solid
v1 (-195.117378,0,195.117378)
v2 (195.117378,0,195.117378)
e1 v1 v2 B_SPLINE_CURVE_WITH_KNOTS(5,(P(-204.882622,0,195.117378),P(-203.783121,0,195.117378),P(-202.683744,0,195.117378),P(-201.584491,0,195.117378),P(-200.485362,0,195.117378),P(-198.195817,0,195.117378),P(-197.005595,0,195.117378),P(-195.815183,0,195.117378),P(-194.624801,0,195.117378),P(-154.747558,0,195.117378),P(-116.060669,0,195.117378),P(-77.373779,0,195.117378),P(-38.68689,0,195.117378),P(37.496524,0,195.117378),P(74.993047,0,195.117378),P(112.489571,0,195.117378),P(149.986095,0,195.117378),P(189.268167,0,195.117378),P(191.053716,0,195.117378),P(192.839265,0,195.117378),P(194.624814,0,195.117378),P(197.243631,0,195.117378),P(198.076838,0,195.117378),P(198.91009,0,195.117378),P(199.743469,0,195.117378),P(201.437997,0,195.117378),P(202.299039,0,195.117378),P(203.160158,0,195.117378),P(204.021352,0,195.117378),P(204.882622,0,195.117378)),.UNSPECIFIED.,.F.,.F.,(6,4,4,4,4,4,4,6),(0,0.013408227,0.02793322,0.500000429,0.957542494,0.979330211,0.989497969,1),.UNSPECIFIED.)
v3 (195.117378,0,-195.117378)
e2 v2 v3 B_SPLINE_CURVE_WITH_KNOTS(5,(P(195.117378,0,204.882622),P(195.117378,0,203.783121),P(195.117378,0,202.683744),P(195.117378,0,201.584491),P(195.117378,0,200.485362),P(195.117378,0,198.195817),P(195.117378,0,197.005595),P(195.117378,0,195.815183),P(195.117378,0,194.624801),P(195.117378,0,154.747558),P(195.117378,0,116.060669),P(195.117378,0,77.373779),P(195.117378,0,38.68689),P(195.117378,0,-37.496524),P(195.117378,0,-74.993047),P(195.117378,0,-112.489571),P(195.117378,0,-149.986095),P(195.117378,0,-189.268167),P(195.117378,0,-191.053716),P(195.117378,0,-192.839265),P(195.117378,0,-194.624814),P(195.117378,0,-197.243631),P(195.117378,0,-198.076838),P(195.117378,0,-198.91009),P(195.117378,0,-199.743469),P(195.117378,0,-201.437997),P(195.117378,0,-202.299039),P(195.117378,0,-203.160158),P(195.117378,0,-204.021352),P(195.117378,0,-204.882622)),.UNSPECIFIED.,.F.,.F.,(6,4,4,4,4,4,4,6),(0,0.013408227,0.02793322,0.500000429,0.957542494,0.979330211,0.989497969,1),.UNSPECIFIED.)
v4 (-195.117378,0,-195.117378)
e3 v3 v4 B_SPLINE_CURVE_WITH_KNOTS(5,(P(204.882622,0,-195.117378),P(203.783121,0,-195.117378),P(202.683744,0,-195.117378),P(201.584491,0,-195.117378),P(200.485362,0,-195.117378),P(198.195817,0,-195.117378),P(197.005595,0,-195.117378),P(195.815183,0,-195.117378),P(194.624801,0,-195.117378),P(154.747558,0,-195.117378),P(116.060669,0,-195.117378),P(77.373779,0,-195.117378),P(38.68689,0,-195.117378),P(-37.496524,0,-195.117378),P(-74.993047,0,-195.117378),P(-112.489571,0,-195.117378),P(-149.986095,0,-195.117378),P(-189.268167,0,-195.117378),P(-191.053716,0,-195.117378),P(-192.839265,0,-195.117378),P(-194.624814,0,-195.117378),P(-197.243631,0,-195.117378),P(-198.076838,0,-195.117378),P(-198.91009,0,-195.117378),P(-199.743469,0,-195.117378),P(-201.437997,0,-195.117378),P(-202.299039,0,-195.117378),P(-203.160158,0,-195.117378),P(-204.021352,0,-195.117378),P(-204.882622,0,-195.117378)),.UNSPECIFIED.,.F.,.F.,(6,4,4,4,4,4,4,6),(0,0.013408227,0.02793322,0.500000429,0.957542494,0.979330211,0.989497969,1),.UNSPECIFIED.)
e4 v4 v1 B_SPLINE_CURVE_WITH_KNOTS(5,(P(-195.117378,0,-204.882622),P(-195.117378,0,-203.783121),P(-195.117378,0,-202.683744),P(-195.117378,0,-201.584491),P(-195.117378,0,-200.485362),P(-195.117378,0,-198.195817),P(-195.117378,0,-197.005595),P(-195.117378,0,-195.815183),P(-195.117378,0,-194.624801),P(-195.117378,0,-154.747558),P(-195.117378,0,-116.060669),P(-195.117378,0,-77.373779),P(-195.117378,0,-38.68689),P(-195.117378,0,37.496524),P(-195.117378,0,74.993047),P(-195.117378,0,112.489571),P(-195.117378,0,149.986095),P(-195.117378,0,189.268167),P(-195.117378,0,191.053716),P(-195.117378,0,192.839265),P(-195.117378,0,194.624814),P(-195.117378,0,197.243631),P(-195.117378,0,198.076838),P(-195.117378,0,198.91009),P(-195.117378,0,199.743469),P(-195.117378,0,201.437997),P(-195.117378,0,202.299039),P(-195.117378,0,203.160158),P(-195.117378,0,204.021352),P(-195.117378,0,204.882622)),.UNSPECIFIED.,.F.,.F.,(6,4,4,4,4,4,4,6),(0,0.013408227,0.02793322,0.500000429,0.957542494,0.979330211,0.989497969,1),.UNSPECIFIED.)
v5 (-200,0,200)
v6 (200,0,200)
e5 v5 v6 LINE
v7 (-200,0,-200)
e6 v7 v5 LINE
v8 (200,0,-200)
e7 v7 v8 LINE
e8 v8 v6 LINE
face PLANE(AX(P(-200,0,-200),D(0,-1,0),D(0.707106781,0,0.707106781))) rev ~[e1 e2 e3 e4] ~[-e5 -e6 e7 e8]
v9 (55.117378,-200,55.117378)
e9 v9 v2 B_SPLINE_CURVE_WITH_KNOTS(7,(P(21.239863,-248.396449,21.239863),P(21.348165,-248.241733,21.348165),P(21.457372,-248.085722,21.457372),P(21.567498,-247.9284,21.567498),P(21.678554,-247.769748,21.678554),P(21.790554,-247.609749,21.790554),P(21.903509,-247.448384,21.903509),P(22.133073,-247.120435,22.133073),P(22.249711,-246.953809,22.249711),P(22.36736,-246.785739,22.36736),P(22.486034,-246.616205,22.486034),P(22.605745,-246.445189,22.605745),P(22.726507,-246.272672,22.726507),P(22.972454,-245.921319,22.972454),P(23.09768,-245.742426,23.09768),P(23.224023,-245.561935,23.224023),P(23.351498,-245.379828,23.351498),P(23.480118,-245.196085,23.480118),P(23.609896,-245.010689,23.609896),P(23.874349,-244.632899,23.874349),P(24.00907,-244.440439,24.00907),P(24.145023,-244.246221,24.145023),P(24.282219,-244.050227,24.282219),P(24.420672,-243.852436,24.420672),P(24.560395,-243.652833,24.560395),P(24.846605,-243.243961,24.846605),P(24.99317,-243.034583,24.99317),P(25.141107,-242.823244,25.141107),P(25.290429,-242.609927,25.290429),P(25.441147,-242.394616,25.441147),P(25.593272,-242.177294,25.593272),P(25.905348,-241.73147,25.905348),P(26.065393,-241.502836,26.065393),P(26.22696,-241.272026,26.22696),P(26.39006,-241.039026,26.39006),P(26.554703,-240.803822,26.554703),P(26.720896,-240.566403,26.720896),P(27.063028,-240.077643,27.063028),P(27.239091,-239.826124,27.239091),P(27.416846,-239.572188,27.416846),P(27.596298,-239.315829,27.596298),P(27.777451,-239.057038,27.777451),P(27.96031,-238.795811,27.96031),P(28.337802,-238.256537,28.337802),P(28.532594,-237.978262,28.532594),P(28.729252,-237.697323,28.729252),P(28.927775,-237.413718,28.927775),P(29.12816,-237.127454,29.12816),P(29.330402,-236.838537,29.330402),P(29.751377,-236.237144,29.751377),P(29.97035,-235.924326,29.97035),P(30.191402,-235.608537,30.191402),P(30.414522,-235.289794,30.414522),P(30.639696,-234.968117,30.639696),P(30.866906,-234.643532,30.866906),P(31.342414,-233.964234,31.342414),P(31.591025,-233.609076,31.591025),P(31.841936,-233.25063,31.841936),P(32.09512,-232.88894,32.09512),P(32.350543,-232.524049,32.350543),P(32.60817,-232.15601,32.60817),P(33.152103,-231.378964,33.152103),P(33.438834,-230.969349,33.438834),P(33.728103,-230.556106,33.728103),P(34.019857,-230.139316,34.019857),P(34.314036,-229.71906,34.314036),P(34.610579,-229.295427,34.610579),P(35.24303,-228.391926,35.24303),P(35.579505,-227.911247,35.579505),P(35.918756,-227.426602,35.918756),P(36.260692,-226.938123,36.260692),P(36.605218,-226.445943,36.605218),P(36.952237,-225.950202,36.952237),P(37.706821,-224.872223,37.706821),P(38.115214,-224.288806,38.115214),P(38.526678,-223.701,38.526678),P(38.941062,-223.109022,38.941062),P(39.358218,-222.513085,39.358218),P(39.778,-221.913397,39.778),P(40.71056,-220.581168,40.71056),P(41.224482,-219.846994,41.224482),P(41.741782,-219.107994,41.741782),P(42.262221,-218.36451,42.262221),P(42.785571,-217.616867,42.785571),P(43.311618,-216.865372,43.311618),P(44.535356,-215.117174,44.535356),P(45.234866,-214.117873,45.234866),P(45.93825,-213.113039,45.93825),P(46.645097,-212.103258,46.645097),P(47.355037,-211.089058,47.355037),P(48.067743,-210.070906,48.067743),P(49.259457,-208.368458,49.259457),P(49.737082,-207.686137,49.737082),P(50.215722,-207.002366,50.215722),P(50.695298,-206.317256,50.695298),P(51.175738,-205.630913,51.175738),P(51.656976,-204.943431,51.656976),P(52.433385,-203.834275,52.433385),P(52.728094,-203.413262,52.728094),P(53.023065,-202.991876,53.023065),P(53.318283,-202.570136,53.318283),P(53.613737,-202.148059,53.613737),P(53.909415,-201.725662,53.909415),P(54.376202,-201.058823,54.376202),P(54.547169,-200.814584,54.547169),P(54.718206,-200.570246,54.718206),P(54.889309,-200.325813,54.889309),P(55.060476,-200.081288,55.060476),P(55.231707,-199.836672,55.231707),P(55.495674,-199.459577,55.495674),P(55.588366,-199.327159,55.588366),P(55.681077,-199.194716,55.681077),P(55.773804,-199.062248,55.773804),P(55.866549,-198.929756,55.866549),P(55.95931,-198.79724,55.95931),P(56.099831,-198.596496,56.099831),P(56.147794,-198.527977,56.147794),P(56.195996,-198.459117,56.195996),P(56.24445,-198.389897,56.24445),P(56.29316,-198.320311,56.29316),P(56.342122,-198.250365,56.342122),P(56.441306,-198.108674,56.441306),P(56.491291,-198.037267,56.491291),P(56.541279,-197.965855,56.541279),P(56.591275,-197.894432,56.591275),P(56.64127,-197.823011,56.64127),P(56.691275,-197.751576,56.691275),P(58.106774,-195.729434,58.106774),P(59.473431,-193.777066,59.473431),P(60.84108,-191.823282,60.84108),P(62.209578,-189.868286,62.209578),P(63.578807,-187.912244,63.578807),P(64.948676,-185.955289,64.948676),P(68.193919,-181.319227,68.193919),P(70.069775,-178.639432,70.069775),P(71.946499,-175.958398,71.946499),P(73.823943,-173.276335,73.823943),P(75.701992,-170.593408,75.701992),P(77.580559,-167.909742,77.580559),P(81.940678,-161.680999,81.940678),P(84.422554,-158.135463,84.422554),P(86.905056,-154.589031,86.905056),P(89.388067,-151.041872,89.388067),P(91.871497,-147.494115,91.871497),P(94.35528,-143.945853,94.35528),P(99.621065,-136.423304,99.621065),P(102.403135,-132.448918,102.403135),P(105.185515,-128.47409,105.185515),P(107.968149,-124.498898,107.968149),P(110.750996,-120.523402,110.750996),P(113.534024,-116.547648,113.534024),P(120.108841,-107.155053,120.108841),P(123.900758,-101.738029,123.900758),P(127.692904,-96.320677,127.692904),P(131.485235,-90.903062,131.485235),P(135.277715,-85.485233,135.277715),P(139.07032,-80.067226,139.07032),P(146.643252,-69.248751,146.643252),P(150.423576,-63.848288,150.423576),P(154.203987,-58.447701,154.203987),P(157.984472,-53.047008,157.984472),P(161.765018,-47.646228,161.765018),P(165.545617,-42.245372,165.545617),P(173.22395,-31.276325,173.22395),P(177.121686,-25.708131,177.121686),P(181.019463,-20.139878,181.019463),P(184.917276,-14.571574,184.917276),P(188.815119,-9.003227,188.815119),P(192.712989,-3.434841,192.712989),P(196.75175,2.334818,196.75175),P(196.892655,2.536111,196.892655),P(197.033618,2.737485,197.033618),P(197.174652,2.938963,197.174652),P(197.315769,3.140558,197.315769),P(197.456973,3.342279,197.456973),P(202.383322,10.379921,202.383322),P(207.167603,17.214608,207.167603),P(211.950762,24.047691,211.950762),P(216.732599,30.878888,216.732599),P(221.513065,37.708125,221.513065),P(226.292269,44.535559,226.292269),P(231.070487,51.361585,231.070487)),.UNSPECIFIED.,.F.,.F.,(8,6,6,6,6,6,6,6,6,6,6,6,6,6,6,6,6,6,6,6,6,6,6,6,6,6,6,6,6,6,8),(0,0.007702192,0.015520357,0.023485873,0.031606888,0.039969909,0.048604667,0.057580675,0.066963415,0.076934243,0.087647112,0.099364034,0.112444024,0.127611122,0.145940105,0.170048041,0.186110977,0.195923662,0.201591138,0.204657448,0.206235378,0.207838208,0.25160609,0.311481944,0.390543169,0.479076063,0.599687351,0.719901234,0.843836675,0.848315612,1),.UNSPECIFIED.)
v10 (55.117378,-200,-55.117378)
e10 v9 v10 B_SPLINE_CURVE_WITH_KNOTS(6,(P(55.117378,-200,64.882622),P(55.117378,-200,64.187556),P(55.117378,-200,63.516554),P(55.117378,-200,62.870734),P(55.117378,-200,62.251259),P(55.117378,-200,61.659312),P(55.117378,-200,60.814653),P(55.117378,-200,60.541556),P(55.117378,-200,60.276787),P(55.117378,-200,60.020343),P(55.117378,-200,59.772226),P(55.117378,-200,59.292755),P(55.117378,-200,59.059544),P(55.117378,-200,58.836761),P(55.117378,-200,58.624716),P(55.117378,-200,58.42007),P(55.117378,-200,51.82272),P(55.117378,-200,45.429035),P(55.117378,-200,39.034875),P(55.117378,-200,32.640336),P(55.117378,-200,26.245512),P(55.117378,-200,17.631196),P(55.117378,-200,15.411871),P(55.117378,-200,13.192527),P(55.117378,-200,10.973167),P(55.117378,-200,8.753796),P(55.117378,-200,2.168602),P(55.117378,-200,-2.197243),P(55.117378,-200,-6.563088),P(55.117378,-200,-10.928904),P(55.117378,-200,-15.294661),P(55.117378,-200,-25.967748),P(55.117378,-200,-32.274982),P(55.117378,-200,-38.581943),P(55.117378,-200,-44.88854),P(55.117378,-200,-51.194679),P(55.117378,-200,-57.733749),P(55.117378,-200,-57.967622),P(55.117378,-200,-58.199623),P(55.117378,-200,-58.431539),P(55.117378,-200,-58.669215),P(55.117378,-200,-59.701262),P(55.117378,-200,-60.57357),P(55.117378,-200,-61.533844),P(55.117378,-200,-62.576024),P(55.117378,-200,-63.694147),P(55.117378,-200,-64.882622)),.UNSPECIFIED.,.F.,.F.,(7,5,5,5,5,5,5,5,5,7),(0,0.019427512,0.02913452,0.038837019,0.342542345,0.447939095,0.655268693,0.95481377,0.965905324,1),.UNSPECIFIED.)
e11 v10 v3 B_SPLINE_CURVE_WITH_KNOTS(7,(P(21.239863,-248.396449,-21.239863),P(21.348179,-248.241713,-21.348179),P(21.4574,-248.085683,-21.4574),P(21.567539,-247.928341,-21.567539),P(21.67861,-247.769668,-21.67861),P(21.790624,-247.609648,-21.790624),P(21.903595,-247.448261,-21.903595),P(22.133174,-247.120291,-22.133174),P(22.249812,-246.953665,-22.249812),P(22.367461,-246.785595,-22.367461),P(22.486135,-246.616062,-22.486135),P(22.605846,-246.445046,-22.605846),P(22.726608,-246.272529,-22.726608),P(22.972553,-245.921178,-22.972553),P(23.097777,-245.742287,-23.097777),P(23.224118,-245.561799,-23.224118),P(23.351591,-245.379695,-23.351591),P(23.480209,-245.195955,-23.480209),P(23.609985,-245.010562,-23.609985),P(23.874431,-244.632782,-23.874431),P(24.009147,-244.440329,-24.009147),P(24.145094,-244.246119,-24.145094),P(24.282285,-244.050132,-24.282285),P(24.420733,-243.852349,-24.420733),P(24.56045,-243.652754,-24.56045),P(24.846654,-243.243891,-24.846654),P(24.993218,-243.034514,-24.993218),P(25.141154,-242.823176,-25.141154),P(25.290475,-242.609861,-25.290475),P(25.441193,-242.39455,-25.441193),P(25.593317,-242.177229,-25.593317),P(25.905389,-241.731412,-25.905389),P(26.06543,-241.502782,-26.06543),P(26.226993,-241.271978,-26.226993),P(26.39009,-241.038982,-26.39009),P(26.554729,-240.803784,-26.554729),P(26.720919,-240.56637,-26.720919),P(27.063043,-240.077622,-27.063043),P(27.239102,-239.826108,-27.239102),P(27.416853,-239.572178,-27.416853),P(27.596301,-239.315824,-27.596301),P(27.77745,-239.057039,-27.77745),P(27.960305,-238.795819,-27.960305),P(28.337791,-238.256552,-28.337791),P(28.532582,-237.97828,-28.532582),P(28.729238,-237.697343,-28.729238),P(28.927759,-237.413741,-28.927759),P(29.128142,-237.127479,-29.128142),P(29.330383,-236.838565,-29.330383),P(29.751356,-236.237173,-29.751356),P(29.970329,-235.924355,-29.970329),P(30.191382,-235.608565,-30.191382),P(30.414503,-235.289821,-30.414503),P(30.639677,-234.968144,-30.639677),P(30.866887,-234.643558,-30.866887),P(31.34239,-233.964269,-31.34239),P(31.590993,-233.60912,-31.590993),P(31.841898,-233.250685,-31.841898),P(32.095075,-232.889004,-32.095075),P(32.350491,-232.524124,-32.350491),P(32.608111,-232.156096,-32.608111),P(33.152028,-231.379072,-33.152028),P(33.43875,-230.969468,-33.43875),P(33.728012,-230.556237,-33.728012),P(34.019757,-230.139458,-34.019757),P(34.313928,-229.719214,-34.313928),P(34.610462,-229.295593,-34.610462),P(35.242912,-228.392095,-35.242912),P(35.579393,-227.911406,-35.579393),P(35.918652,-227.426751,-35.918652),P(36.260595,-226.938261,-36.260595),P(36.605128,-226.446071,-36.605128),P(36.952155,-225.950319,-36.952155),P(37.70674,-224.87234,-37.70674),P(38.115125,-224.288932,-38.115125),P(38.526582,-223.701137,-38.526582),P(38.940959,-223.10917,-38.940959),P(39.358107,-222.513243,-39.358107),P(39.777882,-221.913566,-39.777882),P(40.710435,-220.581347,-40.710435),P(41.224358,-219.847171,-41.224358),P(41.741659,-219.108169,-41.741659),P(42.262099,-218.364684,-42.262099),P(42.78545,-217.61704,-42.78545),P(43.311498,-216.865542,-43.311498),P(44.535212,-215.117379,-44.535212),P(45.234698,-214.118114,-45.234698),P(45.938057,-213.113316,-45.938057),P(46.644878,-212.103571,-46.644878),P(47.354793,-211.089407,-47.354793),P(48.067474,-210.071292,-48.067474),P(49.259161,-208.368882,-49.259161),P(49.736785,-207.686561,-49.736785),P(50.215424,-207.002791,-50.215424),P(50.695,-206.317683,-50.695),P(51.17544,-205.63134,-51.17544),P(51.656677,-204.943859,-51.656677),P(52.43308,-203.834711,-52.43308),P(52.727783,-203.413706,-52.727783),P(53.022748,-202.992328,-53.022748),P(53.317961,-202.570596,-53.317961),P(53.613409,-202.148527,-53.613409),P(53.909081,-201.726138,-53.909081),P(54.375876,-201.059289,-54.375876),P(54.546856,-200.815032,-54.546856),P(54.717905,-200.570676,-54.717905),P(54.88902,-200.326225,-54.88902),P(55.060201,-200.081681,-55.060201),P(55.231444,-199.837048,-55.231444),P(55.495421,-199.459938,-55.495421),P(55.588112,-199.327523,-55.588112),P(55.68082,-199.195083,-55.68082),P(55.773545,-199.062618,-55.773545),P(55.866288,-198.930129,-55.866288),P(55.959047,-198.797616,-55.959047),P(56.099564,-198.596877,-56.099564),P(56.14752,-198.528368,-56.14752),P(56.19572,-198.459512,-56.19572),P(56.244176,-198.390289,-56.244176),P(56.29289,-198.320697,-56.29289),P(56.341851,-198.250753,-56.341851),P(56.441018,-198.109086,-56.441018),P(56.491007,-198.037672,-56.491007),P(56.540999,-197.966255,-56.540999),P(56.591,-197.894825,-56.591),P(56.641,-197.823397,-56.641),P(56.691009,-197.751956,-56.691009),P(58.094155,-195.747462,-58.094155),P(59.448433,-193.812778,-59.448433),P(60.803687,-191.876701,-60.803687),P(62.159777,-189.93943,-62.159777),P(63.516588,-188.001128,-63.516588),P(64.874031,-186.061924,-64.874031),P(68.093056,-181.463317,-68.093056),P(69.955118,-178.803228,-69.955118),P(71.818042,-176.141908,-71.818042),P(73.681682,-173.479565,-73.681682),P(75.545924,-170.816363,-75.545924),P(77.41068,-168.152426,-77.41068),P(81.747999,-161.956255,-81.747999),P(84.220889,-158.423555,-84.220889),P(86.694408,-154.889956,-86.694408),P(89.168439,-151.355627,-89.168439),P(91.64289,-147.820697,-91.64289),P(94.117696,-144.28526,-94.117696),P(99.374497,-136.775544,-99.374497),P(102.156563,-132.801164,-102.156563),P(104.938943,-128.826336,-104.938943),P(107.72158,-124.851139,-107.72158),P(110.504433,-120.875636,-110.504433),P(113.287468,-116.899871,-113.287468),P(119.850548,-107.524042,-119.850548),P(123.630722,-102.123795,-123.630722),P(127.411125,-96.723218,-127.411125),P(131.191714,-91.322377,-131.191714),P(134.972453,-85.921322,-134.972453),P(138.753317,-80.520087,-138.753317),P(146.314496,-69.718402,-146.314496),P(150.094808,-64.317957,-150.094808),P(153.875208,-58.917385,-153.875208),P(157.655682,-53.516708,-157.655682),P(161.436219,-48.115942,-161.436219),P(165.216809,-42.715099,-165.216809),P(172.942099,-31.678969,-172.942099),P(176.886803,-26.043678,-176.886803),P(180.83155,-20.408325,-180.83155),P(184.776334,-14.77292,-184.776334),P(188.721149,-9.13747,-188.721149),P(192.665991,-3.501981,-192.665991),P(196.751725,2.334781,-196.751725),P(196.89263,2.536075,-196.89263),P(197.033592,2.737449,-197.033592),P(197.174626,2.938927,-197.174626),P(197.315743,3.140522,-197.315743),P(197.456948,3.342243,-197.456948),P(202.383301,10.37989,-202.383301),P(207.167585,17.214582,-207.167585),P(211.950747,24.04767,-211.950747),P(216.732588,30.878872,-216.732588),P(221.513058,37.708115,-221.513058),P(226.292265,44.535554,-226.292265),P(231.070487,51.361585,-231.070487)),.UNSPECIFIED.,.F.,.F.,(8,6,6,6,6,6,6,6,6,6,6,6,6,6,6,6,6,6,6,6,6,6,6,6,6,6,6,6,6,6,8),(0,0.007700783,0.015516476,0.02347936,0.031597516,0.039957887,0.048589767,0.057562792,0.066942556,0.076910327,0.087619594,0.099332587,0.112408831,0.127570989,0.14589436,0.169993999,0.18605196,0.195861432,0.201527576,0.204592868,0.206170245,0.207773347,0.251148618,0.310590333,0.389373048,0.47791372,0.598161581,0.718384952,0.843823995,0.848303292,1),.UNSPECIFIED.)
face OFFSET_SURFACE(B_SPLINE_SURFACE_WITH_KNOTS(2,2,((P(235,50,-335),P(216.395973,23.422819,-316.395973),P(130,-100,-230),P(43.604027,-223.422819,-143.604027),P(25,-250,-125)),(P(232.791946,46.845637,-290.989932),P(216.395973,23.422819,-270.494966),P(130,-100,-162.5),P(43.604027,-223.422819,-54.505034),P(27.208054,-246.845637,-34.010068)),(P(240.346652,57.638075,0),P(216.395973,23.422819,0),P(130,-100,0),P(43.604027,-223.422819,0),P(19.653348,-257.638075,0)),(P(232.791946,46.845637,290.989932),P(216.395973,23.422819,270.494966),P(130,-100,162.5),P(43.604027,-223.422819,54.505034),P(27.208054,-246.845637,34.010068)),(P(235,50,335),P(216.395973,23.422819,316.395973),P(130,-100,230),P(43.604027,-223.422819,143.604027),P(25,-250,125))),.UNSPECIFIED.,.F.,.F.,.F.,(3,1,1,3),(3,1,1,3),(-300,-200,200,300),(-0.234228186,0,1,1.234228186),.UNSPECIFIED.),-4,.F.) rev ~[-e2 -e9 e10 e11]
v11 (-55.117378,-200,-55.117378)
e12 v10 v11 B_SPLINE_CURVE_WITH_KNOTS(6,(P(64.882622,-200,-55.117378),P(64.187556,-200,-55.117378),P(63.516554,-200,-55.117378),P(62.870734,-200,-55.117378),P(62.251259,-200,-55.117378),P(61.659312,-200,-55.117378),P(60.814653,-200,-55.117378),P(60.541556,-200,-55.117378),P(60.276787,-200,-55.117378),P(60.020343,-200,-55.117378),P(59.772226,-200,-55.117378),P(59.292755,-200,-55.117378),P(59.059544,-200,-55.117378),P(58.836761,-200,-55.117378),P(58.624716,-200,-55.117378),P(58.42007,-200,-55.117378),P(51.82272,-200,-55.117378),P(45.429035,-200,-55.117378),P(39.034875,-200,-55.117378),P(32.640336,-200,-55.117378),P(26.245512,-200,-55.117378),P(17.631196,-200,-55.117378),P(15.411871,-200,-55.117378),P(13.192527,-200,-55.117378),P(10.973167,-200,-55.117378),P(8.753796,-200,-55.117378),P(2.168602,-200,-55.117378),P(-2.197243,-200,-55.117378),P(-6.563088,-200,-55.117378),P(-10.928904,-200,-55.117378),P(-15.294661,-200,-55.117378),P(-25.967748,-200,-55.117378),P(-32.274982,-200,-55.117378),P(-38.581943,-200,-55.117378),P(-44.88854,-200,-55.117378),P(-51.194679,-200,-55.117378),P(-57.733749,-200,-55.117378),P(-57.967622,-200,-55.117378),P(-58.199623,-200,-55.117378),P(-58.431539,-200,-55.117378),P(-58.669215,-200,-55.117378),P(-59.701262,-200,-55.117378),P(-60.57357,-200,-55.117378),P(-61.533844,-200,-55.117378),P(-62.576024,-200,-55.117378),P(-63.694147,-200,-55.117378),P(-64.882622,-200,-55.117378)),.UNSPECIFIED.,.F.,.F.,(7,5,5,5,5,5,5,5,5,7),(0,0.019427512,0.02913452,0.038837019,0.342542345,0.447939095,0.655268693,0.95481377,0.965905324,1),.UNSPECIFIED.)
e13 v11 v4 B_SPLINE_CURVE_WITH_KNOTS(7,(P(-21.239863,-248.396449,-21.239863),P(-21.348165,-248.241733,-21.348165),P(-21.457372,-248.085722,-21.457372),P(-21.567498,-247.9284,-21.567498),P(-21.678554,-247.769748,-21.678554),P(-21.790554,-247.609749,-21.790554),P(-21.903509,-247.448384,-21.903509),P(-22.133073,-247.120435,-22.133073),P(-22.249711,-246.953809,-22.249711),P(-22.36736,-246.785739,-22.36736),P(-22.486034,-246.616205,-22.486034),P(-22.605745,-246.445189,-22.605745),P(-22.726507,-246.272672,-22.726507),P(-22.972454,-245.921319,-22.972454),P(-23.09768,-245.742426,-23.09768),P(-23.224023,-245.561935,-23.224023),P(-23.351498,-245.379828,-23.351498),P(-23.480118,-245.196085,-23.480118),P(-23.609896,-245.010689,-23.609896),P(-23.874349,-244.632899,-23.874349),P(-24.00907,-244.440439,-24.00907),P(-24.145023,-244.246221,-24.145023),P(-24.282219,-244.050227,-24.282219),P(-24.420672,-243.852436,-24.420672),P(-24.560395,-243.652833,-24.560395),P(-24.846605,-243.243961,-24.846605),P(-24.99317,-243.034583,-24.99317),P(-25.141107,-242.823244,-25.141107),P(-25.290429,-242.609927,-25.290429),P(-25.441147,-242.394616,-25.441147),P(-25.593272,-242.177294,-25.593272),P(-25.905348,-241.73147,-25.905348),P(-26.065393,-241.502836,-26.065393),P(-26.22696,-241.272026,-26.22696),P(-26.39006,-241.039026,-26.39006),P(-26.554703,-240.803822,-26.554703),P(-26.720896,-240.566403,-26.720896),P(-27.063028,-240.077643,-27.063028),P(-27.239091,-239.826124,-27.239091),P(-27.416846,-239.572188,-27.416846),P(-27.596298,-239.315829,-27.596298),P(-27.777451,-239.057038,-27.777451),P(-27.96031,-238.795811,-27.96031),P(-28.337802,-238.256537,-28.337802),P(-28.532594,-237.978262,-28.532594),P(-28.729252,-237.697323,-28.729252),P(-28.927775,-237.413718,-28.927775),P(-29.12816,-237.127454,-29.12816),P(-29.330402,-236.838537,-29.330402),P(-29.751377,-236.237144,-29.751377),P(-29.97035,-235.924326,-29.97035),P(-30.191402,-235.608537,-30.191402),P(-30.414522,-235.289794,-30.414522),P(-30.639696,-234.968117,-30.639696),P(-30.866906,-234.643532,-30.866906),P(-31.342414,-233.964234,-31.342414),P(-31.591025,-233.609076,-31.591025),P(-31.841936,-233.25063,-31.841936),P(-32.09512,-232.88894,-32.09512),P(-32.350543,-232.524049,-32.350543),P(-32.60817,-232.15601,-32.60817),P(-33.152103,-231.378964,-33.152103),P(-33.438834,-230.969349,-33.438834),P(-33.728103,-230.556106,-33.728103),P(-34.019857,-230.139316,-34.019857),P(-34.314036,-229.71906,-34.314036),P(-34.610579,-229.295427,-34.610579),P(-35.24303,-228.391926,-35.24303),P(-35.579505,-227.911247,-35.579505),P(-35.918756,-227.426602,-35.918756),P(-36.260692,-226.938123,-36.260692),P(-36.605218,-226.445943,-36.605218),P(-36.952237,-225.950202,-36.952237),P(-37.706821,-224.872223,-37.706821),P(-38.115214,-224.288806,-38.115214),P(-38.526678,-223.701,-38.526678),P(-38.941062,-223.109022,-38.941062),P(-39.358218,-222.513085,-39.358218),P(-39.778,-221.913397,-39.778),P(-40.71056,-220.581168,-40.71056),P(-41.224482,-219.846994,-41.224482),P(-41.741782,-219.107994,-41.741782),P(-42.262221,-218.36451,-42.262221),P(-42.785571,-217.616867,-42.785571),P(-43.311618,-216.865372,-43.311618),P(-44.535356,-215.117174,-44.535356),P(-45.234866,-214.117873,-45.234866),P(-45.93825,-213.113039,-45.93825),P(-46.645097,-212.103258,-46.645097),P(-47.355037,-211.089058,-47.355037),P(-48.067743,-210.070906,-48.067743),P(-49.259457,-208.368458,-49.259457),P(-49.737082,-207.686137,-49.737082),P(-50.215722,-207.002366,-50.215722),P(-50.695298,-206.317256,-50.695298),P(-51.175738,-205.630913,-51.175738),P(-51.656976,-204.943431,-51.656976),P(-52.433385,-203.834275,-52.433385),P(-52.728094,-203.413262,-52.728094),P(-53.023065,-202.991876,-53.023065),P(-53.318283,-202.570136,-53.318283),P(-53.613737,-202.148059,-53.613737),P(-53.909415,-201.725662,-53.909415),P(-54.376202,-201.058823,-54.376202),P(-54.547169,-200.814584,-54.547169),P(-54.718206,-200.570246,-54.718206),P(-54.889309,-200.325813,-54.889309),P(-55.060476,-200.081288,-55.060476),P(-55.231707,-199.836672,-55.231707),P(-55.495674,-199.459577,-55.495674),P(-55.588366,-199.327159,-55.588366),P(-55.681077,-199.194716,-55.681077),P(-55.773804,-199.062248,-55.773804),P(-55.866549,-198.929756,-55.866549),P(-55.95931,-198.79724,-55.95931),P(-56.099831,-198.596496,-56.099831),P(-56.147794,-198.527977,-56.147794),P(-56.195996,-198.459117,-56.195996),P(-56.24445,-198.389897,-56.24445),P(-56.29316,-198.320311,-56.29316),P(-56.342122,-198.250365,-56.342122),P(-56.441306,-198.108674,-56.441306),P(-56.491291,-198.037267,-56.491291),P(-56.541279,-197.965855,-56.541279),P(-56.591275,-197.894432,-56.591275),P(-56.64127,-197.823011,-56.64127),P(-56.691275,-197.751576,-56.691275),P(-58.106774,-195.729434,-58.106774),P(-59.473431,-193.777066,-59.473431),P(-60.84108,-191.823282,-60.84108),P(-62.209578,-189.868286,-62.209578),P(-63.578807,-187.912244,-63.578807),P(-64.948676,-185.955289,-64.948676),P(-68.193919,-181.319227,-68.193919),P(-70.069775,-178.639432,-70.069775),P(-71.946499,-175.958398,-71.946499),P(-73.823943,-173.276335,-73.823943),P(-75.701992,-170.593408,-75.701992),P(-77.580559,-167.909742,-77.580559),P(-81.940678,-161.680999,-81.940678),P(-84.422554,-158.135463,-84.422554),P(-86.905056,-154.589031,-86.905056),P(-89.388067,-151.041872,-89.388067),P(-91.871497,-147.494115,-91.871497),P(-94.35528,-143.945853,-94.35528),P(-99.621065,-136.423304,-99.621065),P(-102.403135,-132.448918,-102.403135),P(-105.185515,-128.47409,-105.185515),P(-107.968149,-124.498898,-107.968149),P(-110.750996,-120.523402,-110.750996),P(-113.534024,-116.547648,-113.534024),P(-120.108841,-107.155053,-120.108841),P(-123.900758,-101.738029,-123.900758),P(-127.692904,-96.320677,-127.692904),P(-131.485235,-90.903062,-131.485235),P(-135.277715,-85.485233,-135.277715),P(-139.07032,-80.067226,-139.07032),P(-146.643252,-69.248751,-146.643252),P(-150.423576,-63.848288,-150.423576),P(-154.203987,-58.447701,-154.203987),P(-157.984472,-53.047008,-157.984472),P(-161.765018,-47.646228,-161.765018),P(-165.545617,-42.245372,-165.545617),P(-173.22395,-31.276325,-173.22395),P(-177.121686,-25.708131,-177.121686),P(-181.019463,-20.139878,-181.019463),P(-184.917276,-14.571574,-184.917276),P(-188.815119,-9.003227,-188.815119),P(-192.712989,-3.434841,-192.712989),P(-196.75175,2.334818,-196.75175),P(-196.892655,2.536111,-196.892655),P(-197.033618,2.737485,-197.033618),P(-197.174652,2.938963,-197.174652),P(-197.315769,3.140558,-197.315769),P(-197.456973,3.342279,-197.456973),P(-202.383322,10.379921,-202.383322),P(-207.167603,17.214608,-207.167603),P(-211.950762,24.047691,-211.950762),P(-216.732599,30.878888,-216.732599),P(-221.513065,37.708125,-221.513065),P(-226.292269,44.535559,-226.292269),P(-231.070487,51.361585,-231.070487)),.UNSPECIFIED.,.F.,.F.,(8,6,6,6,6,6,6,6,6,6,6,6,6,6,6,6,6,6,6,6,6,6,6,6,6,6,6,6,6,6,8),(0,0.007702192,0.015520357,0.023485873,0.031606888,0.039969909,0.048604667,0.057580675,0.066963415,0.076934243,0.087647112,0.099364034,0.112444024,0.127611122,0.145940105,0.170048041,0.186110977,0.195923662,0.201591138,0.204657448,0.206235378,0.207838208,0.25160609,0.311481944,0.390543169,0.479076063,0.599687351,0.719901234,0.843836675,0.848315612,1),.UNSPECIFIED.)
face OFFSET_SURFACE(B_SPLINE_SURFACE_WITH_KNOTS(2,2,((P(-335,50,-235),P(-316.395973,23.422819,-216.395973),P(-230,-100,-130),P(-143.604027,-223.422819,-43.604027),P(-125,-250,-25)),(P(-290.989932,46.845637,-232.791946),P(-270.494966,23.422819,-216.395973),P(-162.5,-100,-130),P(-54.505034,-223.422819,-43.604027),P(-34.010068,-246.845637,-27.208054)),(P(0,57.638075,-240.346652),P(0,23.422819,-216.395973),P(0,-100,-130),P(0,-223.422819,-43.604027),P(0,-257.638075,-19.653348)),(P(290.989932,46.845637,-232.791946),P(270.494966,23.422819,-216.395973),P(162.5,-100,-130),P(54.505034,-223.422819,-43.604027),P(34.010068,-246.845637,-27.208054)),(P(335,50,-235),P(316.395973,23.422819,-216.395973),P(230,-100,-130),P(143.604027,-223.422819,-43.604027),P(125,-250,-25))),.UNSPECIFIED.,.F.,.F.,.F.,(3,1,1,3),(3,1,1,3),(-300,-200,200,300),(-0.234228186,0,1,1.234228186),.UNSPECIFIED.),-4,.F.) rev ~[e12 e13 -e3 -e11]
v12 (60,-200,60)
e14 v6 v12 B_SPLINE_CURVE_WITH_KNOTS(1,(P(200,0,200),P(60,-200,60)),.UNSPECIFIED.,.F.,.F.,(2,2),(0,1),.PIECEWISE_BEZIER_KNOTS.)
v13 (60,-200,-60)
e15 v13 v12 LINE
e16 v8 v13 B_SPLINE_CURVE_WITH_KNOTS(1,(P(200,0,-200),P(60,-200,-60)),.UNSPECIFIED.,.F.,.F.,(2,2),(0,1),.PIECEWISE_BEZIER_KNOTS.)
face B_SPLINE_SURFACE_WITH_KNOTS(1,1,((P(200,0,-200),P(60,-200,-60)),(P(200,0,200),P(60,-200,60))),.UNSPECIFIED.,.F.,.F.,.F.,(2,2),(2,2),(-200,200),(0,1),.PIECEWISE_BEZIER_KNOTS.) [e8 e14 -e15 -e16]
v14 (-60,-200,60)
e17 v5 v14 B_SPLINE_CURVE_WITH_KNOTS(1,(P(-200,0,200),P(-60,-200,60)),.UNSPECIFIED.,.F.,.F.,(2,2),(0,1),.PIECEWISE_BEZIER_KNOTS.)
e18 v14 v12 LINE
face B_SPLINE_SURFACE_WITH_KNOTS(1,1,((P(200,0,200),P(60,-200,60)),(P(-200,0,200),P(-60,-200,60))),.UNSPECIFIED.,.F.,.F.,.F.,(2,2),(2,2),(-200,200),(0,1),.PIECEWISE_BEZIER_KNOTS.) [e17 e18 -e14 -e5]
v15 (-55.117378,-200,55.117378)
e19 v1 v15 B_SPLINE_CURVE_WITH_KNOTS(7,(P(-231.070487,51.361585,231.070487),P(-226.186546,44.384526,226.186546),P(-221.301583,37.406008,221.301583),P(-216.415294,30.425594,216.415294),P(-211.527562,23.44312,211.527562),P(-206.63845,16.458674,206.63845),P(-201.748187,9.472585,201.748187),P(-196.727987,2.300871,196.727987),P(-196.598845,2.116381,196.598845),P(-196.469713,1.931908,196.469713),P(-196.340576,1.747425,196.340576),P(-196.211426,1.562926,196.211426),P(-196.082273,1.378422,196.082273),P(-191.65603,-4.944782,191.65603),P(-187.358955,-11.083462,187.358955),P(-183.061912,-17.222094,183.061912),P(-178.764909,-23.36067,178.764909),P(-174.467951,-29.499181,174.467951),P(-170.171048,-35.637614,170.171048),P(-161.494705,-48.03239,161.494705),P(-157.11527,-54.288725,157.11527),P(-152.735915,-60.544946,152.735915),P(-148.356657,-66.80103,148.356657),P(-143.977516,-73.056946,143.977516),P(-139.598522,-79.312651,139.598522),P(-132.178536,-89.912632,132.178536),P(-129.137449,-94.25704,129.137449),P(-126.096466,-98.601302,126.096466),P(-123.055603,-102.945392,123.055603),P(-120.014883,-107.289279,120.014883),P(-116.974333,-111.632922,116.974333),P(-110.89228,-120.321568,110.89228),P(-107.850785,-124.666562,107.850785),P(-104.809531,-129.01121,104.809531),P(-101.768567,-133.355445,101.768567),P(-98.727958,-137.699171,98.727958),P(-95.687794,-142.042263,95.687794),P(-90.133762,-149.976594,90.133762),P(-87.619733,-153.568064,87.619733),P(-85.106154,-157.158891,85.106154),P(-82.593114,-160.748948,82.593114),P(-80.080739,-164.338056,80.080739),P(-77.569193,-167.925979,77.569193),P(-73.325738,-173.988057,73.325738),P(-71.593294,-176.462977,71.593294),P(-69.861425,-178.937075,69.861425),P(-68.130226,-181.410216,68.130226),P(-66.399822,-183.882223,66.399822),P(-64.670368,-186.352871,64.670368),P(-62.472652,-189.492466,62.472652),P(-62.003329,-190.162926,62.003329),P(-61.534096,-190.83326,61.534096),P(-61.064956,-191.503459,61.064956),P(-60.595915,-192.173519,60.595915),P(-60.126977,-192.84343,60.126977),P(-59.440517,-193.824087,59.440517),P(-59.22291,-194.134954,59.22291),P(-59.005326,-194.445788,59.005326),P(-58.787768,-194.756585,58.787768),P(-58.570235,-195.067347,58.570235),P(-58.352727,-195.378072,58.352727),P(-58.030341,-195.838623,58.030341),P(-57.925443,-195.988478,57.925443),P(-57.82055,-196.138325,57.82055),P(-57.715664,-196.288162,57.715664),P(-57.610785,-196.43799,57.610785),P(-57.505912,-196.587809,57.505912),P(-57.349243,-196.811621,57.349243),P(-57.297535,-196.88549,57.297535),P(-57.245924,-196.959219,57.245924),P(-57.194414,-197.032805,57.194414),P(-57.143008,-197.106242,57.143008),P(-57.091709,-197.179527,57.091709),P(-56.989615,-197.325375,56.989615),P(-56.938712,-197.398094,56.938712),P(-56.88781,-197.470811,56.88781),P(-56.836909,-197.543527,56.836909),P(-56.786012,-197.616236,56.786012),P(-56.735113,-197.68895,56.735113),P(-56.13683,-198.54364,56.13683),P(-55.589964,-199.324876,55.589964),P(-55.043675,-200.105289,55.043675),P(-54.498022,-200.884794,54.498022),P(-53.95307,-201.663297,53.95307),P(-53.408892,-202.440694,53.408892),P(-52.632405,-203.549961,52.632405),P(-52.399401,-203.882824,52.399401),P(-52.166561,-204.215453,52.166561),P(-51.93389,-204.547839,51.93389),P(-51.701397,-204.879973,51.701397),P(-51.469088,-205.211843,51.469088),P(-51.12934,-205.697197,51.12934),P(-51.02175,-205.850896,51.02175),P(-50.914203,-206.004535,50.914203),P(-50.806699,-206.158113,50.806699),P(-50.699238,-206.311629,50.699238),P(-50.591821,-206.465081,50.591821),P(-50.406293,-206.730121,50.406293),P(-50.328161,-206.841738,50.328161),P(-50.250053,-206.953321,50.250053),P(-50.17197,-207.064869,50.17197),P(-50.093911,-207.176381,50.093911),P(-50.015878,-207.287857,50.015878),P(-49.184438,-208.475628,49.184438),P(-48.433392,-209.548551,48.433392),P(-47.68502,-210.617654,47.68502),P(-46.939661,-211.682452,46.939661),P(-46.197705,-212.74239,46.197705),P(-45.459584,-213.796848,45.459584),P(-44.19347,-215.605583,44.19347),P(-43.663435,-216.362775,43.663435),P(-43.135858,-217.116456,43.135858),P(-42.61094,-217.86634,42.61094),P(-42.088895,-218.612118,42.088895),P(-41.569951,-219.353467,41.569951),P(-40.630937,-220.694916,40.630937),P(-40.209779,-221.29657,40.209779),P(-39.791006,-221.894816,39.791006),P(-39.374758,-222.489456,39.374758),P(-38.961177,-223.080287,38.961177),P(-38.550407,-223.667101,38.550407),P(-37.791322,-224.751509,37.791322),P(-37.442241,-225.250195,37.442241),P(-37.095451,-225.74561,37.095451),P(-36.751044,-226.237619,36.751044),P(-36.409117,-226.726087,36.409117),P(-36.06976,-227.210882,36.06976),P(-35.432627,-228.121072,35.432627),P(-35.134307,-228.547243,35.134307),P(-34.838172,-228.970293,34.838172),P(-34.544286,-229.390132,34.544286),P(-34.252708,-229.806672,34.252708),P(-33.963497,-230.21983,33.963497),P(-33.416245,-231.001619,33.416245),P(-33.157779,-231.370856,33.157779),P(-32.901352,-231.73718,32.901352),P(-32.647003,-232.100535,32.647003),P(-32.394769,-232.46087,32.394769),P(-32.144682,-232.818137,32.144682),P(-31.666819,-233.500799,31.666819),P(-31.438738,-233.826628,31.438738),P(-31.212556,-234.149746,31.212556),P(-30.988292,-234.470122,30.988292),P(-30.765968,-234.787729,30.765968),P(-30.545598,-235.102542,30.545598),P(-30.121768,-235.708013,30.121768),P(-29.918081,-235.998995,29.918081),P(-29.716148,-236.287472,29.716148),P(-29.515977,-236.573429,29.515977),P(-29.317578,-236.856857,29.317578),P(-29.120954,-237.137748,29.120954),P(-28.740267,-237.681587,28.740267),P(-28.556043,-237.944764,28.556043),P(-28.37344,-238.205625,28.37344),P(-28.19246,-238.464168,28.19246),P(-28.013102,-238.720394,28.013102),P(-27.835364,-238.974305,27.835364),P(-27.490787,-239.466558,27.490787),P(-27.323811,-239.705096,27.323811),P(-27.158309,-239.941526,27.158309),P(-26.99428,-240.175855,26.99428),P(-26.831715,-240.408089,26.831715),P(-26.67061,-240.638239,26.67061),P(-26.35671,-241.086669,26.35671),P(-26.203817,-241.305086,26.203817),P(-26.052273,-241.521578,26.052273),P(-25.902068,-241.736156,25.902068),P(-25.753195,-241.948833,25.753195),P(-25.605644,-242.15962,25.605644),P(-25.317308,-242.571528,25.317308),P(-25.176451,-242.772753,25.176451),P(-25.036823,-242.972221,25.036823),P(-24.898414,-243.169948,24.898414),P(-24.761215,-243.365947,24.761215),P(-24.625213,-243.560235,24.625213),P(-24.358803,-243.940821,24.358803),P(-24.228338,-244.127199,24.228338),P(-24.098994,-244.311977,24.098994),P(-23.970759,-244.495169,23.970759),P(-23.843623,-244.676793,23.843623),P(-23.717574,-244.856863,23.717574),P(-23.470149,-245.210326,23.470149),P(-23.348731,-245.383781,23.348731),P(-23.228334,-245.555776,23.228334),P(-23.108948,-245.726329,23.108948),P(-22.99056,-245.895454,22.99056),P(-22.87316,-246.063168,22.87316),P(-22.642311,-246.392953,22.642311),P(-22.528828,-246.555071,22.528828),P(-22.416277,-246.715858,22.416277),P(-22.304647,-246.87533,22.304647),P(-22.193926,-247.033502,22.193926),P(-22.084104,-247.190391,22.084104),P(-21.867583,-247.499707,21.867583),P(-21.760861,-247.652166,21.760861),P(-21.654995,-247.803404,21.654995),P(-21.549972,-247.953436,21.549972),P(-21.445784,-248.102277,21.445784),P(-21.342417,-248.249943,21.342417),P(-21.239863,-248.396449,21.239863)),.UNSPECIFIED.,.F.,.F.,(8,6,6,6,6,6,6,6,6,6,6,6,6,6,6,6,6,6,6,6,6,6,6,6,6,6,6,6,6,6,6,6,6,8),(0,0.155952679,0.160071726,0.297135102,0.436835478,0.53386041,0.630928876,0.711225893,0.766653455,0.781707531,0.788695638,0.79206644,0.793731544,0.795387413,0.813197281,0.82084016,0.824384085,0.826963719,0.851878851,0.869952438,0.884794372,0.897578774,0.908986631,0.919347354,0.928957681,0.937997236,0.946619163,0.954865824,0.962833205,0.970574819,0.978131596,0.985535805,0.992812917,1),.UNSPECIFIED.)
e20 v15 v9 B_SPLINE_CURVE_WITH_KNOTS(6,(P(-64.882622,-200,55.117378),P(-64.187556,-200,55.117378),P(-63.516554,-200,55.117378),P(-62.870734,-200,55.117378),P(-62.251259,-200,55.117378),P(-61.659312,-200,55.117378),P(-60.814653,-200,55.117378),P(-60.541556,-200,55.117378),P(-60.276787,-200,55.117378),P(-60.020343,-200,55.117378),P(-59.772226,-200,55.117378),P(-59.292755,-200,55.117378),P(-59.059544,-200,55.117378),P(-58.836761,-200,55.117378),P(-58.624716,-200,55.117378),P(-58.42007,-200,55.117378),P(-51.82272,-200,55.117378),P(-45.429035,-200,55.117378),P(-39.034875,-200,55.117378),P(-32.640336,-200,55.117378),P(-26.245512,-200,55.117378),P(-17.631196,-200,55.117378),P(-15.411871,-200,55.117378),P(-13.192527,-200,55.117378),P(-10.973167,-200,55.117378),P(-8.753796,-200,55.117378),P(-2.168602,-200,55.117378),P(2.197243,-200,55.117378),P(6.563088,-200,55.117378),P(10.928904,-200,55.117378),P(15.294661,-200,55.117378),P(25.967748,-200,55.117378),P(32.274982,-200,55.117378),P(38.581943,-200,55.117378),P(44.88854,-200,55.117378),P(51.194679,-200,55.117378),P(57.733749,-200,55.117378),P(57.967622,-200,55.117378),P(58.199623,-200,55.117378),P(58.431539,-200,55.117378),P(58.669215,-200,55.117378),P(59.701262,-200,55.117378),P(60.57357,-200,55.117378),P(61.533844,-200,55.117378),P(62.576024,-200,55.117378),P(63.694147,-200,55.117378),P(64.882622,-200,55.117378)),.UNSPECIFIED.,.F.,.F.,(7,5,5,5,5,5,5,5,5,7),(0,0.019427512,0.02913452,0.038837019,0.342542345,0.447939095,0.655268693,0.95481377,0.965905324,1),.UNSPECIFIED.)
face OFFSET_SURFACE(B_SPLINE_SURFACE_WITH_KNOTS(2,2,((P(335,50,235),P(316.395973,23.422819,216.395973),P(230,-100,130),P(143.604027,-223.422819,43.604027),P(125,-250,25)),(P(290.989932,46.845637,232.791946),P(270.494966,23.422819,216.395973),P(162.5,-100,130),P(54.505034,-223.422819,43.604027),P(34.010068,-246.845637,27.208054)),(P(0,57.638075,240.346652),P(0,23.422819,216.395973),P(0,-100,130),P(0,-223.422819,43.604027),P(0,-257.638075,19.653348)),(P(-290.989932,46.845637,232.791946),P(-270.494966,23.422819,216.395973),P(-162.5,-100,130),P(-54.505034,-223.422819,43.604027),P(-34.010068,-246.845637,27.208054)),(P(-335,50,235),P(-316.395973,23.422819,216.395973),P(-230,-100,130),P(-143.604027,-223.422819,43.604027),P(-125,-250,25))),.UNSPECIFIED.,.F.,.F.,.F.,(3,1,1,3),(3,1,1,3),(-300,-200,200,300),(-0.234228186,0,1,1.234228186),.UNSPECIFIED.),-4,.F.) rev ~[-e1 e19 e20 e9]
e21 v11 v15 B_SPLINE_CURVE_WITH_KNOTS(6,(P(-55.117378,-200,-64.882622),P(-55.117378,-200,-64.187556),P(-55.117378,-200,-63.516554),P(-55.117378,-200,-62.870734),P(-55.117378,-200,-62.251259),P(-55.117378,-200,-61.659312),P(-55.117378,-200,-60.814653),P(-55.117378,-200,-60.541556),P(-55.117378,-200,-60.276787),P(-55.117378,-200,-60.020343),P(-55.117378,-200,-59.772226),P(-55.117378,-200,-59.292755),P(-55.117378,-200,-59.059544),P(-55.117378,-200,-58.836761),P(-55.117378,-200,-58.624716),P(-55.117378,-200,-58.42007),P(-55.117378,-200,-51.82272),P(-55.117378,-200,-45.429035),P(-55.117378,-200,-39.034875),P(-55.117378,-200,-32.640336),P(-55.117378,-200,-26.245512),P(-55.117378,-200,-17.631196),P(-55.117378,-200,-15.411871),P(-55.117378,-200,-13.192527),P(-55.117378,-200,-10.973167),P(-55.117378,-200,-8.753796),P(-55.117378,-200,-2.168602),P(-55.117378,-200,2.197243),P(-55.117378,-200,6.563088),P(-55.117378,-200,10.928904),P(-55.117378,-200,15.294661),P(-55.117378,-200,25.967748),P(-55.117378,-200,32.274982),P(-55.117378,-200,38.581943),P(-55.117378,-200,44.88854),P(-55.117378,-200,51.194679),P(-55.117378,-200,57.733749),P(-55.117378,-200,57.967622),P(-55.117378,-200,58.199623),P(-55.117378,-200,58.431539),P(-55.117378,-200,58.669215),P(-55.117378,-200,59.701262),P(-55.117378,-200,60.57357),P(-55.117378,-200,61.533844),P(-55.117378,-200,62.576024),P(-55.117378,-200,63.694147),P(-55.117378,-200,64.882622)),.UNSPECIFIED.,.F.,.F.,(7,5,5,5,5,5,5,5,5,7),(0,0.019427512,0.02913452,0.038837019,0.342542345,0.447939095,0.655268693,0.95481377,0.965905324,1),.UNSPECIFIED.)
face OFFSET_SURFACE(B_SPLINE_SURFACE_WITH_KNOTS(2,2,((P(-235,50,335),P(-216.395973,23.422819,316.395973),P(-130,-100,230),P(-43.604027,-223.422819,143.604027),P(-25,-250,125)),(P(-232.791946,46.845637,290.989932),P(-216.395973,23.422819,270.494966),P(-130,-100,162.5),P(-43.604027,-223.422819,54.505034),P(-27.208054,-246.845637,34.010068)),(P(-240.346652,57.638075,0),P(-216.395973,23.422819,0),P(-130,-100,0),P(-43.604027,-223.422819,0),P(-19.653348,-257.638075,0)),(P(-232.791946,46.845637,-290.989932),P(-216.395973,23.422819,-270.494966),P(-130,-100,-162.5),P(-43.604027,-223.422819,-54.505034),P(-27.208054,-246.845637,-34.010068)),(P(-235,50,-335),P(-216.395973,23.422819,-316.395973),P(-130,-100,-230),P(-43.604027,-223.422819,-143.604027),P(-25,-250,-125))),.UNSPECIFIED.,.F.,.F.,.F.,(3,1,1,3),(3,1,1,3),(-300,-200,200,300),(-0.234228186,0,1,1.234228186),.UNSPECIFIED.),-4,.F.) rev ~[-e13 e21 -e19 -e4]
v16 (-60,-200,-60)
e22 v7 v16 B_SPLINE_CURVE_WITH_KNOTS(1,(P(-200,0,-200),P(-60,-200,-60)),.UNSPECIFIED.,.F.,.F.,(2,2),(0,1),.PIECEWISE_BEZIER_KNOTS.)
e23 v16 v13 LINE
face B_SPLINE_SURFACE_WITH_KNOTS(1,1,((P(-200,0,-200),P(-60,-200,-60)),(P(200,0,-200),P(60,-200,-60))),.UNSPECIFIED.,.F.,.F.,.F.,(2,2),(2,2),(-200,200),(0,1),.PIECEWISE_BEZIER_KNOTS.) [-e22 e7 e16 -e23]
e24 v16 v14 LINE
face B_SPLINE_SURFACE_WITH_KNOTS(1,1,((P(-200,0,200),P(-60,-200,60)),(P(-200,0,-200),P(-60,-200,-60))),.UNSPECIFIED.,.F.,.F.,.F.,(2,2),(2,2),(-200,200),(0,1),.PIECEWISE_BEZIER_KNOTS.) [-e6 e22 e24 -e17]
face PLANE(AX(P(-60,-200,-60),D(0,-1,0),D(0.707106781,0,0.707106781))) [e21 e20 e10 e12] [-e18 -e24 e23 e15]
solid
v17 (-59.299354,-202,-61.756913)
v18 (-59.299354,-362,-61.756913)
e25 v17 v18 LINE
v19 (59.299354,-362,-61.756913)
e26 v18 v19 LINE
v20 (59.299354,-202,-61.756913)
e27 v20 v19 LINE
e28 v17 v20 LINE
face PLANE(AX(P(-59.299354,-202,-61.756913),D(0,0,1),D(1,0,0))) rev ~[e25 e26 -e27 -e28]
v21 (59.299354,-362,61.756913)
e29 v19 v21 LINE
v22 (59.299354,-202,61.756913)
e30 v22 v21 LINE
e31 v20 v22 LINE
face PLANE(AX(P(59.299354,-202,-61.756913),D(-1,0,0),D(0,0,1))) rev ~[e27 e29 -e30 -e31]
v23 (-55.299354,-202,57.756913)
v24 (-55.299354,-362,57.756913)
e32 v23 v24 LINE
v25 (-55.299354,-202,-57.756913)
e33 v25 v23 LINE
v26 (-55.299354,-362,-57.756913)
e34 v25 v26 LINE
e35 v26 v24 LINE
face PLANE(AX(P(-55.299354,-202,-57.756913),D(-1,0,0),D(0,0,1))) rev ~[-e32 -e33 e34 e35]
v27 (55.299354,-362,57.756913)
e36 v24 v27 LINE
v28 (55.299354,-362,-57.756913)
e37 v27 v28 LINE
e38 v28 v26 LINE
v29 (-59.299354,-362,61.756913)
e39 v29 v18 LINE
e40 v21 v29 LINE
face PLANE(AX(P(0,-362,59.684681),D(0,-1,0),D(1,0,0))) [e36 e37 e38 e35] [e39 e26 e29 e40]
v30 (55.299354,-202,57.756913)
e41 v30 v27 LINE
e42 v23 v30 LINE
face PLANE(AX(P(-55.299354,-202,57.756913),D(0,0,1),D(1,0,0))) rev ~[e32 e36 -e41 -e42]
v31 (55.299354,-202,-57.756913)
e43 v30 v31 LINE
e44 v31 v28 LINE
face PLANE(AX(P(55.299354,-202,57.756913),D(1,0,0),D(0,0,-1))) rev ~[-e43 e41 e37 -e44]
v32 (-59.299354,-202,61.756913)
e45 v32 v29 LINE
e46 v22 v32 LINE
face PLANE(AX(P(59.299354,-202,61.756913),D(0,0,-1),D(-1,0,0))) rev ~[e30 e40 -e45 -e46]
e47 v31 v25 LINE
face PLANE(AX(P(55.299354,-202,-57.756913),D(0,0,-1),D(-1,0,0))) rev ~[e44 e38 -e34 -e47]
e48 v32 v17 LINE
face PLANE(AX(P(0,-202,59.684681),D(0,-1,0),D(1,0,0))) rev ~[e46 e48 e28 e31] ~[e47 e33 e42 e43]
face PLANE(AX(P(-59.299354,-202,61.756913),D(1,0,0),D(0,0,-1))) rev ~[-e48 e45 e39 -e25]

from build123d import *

# Parameters (mm, degrees)
F0_W     = 400
F0_H     = 400
F2_W     = 120
F2_H     = 120
F4_T     = -4
F7_DEPTH = 160


with BuildPart() as f3:
    # F0 (on Front) → F3 section 0
    with BuildSketch(Plane.XZ):
        Rectangle(F0_W, F0_H)
    # F2 (on offset) → F3 section 1
    with BuildSketch(Plane.XZ.offset(200)):
        Rectangle(F2_W, F2_H)
    loft()

    # F4
    f4_openings = [f3.faces().sort_by_distance(p)[0] for p in [
        (0, 0, 0),
        (0, -200, 0),
    ]]
    offset(amount=F4_T, openings=f4_openings, kind=Kind.INTERSECTION)


with BuildPart() as f7:
    # F6 (on offset) → F7 (new body)
    with BuildSketch(Plane.XZ.offset(202)):
        Polygon((59.2993535101, 61.7569126189), (-59.2993535101, 61.7569126189), (-59.2993535101, 56.7569126189), (-55.2993535101, 56.7569126189), (-55.2993535101, 57.7569126189), (55.2993535101, 57.7569126189), (55.2993535101, 56.7569126189), (59.2993535101, 56.7569126189), align=None)
        Polygon((-55.2993535101, 56.7569126189), (-59.2993535101, 56.7569126189), (-59.2993535101, -61.7569126189), (59.2993535101, -61.7569126189), (59.2993535101, 56.7569126189), (55.2993535101, 56.7569126189), (55.2993535101, -57.7569126189), (-55.2993535101, -57.7569126189), align=None)
    extrude(amount=F7_DEPTH)


solid = Compound([f3.part, f7.part])
